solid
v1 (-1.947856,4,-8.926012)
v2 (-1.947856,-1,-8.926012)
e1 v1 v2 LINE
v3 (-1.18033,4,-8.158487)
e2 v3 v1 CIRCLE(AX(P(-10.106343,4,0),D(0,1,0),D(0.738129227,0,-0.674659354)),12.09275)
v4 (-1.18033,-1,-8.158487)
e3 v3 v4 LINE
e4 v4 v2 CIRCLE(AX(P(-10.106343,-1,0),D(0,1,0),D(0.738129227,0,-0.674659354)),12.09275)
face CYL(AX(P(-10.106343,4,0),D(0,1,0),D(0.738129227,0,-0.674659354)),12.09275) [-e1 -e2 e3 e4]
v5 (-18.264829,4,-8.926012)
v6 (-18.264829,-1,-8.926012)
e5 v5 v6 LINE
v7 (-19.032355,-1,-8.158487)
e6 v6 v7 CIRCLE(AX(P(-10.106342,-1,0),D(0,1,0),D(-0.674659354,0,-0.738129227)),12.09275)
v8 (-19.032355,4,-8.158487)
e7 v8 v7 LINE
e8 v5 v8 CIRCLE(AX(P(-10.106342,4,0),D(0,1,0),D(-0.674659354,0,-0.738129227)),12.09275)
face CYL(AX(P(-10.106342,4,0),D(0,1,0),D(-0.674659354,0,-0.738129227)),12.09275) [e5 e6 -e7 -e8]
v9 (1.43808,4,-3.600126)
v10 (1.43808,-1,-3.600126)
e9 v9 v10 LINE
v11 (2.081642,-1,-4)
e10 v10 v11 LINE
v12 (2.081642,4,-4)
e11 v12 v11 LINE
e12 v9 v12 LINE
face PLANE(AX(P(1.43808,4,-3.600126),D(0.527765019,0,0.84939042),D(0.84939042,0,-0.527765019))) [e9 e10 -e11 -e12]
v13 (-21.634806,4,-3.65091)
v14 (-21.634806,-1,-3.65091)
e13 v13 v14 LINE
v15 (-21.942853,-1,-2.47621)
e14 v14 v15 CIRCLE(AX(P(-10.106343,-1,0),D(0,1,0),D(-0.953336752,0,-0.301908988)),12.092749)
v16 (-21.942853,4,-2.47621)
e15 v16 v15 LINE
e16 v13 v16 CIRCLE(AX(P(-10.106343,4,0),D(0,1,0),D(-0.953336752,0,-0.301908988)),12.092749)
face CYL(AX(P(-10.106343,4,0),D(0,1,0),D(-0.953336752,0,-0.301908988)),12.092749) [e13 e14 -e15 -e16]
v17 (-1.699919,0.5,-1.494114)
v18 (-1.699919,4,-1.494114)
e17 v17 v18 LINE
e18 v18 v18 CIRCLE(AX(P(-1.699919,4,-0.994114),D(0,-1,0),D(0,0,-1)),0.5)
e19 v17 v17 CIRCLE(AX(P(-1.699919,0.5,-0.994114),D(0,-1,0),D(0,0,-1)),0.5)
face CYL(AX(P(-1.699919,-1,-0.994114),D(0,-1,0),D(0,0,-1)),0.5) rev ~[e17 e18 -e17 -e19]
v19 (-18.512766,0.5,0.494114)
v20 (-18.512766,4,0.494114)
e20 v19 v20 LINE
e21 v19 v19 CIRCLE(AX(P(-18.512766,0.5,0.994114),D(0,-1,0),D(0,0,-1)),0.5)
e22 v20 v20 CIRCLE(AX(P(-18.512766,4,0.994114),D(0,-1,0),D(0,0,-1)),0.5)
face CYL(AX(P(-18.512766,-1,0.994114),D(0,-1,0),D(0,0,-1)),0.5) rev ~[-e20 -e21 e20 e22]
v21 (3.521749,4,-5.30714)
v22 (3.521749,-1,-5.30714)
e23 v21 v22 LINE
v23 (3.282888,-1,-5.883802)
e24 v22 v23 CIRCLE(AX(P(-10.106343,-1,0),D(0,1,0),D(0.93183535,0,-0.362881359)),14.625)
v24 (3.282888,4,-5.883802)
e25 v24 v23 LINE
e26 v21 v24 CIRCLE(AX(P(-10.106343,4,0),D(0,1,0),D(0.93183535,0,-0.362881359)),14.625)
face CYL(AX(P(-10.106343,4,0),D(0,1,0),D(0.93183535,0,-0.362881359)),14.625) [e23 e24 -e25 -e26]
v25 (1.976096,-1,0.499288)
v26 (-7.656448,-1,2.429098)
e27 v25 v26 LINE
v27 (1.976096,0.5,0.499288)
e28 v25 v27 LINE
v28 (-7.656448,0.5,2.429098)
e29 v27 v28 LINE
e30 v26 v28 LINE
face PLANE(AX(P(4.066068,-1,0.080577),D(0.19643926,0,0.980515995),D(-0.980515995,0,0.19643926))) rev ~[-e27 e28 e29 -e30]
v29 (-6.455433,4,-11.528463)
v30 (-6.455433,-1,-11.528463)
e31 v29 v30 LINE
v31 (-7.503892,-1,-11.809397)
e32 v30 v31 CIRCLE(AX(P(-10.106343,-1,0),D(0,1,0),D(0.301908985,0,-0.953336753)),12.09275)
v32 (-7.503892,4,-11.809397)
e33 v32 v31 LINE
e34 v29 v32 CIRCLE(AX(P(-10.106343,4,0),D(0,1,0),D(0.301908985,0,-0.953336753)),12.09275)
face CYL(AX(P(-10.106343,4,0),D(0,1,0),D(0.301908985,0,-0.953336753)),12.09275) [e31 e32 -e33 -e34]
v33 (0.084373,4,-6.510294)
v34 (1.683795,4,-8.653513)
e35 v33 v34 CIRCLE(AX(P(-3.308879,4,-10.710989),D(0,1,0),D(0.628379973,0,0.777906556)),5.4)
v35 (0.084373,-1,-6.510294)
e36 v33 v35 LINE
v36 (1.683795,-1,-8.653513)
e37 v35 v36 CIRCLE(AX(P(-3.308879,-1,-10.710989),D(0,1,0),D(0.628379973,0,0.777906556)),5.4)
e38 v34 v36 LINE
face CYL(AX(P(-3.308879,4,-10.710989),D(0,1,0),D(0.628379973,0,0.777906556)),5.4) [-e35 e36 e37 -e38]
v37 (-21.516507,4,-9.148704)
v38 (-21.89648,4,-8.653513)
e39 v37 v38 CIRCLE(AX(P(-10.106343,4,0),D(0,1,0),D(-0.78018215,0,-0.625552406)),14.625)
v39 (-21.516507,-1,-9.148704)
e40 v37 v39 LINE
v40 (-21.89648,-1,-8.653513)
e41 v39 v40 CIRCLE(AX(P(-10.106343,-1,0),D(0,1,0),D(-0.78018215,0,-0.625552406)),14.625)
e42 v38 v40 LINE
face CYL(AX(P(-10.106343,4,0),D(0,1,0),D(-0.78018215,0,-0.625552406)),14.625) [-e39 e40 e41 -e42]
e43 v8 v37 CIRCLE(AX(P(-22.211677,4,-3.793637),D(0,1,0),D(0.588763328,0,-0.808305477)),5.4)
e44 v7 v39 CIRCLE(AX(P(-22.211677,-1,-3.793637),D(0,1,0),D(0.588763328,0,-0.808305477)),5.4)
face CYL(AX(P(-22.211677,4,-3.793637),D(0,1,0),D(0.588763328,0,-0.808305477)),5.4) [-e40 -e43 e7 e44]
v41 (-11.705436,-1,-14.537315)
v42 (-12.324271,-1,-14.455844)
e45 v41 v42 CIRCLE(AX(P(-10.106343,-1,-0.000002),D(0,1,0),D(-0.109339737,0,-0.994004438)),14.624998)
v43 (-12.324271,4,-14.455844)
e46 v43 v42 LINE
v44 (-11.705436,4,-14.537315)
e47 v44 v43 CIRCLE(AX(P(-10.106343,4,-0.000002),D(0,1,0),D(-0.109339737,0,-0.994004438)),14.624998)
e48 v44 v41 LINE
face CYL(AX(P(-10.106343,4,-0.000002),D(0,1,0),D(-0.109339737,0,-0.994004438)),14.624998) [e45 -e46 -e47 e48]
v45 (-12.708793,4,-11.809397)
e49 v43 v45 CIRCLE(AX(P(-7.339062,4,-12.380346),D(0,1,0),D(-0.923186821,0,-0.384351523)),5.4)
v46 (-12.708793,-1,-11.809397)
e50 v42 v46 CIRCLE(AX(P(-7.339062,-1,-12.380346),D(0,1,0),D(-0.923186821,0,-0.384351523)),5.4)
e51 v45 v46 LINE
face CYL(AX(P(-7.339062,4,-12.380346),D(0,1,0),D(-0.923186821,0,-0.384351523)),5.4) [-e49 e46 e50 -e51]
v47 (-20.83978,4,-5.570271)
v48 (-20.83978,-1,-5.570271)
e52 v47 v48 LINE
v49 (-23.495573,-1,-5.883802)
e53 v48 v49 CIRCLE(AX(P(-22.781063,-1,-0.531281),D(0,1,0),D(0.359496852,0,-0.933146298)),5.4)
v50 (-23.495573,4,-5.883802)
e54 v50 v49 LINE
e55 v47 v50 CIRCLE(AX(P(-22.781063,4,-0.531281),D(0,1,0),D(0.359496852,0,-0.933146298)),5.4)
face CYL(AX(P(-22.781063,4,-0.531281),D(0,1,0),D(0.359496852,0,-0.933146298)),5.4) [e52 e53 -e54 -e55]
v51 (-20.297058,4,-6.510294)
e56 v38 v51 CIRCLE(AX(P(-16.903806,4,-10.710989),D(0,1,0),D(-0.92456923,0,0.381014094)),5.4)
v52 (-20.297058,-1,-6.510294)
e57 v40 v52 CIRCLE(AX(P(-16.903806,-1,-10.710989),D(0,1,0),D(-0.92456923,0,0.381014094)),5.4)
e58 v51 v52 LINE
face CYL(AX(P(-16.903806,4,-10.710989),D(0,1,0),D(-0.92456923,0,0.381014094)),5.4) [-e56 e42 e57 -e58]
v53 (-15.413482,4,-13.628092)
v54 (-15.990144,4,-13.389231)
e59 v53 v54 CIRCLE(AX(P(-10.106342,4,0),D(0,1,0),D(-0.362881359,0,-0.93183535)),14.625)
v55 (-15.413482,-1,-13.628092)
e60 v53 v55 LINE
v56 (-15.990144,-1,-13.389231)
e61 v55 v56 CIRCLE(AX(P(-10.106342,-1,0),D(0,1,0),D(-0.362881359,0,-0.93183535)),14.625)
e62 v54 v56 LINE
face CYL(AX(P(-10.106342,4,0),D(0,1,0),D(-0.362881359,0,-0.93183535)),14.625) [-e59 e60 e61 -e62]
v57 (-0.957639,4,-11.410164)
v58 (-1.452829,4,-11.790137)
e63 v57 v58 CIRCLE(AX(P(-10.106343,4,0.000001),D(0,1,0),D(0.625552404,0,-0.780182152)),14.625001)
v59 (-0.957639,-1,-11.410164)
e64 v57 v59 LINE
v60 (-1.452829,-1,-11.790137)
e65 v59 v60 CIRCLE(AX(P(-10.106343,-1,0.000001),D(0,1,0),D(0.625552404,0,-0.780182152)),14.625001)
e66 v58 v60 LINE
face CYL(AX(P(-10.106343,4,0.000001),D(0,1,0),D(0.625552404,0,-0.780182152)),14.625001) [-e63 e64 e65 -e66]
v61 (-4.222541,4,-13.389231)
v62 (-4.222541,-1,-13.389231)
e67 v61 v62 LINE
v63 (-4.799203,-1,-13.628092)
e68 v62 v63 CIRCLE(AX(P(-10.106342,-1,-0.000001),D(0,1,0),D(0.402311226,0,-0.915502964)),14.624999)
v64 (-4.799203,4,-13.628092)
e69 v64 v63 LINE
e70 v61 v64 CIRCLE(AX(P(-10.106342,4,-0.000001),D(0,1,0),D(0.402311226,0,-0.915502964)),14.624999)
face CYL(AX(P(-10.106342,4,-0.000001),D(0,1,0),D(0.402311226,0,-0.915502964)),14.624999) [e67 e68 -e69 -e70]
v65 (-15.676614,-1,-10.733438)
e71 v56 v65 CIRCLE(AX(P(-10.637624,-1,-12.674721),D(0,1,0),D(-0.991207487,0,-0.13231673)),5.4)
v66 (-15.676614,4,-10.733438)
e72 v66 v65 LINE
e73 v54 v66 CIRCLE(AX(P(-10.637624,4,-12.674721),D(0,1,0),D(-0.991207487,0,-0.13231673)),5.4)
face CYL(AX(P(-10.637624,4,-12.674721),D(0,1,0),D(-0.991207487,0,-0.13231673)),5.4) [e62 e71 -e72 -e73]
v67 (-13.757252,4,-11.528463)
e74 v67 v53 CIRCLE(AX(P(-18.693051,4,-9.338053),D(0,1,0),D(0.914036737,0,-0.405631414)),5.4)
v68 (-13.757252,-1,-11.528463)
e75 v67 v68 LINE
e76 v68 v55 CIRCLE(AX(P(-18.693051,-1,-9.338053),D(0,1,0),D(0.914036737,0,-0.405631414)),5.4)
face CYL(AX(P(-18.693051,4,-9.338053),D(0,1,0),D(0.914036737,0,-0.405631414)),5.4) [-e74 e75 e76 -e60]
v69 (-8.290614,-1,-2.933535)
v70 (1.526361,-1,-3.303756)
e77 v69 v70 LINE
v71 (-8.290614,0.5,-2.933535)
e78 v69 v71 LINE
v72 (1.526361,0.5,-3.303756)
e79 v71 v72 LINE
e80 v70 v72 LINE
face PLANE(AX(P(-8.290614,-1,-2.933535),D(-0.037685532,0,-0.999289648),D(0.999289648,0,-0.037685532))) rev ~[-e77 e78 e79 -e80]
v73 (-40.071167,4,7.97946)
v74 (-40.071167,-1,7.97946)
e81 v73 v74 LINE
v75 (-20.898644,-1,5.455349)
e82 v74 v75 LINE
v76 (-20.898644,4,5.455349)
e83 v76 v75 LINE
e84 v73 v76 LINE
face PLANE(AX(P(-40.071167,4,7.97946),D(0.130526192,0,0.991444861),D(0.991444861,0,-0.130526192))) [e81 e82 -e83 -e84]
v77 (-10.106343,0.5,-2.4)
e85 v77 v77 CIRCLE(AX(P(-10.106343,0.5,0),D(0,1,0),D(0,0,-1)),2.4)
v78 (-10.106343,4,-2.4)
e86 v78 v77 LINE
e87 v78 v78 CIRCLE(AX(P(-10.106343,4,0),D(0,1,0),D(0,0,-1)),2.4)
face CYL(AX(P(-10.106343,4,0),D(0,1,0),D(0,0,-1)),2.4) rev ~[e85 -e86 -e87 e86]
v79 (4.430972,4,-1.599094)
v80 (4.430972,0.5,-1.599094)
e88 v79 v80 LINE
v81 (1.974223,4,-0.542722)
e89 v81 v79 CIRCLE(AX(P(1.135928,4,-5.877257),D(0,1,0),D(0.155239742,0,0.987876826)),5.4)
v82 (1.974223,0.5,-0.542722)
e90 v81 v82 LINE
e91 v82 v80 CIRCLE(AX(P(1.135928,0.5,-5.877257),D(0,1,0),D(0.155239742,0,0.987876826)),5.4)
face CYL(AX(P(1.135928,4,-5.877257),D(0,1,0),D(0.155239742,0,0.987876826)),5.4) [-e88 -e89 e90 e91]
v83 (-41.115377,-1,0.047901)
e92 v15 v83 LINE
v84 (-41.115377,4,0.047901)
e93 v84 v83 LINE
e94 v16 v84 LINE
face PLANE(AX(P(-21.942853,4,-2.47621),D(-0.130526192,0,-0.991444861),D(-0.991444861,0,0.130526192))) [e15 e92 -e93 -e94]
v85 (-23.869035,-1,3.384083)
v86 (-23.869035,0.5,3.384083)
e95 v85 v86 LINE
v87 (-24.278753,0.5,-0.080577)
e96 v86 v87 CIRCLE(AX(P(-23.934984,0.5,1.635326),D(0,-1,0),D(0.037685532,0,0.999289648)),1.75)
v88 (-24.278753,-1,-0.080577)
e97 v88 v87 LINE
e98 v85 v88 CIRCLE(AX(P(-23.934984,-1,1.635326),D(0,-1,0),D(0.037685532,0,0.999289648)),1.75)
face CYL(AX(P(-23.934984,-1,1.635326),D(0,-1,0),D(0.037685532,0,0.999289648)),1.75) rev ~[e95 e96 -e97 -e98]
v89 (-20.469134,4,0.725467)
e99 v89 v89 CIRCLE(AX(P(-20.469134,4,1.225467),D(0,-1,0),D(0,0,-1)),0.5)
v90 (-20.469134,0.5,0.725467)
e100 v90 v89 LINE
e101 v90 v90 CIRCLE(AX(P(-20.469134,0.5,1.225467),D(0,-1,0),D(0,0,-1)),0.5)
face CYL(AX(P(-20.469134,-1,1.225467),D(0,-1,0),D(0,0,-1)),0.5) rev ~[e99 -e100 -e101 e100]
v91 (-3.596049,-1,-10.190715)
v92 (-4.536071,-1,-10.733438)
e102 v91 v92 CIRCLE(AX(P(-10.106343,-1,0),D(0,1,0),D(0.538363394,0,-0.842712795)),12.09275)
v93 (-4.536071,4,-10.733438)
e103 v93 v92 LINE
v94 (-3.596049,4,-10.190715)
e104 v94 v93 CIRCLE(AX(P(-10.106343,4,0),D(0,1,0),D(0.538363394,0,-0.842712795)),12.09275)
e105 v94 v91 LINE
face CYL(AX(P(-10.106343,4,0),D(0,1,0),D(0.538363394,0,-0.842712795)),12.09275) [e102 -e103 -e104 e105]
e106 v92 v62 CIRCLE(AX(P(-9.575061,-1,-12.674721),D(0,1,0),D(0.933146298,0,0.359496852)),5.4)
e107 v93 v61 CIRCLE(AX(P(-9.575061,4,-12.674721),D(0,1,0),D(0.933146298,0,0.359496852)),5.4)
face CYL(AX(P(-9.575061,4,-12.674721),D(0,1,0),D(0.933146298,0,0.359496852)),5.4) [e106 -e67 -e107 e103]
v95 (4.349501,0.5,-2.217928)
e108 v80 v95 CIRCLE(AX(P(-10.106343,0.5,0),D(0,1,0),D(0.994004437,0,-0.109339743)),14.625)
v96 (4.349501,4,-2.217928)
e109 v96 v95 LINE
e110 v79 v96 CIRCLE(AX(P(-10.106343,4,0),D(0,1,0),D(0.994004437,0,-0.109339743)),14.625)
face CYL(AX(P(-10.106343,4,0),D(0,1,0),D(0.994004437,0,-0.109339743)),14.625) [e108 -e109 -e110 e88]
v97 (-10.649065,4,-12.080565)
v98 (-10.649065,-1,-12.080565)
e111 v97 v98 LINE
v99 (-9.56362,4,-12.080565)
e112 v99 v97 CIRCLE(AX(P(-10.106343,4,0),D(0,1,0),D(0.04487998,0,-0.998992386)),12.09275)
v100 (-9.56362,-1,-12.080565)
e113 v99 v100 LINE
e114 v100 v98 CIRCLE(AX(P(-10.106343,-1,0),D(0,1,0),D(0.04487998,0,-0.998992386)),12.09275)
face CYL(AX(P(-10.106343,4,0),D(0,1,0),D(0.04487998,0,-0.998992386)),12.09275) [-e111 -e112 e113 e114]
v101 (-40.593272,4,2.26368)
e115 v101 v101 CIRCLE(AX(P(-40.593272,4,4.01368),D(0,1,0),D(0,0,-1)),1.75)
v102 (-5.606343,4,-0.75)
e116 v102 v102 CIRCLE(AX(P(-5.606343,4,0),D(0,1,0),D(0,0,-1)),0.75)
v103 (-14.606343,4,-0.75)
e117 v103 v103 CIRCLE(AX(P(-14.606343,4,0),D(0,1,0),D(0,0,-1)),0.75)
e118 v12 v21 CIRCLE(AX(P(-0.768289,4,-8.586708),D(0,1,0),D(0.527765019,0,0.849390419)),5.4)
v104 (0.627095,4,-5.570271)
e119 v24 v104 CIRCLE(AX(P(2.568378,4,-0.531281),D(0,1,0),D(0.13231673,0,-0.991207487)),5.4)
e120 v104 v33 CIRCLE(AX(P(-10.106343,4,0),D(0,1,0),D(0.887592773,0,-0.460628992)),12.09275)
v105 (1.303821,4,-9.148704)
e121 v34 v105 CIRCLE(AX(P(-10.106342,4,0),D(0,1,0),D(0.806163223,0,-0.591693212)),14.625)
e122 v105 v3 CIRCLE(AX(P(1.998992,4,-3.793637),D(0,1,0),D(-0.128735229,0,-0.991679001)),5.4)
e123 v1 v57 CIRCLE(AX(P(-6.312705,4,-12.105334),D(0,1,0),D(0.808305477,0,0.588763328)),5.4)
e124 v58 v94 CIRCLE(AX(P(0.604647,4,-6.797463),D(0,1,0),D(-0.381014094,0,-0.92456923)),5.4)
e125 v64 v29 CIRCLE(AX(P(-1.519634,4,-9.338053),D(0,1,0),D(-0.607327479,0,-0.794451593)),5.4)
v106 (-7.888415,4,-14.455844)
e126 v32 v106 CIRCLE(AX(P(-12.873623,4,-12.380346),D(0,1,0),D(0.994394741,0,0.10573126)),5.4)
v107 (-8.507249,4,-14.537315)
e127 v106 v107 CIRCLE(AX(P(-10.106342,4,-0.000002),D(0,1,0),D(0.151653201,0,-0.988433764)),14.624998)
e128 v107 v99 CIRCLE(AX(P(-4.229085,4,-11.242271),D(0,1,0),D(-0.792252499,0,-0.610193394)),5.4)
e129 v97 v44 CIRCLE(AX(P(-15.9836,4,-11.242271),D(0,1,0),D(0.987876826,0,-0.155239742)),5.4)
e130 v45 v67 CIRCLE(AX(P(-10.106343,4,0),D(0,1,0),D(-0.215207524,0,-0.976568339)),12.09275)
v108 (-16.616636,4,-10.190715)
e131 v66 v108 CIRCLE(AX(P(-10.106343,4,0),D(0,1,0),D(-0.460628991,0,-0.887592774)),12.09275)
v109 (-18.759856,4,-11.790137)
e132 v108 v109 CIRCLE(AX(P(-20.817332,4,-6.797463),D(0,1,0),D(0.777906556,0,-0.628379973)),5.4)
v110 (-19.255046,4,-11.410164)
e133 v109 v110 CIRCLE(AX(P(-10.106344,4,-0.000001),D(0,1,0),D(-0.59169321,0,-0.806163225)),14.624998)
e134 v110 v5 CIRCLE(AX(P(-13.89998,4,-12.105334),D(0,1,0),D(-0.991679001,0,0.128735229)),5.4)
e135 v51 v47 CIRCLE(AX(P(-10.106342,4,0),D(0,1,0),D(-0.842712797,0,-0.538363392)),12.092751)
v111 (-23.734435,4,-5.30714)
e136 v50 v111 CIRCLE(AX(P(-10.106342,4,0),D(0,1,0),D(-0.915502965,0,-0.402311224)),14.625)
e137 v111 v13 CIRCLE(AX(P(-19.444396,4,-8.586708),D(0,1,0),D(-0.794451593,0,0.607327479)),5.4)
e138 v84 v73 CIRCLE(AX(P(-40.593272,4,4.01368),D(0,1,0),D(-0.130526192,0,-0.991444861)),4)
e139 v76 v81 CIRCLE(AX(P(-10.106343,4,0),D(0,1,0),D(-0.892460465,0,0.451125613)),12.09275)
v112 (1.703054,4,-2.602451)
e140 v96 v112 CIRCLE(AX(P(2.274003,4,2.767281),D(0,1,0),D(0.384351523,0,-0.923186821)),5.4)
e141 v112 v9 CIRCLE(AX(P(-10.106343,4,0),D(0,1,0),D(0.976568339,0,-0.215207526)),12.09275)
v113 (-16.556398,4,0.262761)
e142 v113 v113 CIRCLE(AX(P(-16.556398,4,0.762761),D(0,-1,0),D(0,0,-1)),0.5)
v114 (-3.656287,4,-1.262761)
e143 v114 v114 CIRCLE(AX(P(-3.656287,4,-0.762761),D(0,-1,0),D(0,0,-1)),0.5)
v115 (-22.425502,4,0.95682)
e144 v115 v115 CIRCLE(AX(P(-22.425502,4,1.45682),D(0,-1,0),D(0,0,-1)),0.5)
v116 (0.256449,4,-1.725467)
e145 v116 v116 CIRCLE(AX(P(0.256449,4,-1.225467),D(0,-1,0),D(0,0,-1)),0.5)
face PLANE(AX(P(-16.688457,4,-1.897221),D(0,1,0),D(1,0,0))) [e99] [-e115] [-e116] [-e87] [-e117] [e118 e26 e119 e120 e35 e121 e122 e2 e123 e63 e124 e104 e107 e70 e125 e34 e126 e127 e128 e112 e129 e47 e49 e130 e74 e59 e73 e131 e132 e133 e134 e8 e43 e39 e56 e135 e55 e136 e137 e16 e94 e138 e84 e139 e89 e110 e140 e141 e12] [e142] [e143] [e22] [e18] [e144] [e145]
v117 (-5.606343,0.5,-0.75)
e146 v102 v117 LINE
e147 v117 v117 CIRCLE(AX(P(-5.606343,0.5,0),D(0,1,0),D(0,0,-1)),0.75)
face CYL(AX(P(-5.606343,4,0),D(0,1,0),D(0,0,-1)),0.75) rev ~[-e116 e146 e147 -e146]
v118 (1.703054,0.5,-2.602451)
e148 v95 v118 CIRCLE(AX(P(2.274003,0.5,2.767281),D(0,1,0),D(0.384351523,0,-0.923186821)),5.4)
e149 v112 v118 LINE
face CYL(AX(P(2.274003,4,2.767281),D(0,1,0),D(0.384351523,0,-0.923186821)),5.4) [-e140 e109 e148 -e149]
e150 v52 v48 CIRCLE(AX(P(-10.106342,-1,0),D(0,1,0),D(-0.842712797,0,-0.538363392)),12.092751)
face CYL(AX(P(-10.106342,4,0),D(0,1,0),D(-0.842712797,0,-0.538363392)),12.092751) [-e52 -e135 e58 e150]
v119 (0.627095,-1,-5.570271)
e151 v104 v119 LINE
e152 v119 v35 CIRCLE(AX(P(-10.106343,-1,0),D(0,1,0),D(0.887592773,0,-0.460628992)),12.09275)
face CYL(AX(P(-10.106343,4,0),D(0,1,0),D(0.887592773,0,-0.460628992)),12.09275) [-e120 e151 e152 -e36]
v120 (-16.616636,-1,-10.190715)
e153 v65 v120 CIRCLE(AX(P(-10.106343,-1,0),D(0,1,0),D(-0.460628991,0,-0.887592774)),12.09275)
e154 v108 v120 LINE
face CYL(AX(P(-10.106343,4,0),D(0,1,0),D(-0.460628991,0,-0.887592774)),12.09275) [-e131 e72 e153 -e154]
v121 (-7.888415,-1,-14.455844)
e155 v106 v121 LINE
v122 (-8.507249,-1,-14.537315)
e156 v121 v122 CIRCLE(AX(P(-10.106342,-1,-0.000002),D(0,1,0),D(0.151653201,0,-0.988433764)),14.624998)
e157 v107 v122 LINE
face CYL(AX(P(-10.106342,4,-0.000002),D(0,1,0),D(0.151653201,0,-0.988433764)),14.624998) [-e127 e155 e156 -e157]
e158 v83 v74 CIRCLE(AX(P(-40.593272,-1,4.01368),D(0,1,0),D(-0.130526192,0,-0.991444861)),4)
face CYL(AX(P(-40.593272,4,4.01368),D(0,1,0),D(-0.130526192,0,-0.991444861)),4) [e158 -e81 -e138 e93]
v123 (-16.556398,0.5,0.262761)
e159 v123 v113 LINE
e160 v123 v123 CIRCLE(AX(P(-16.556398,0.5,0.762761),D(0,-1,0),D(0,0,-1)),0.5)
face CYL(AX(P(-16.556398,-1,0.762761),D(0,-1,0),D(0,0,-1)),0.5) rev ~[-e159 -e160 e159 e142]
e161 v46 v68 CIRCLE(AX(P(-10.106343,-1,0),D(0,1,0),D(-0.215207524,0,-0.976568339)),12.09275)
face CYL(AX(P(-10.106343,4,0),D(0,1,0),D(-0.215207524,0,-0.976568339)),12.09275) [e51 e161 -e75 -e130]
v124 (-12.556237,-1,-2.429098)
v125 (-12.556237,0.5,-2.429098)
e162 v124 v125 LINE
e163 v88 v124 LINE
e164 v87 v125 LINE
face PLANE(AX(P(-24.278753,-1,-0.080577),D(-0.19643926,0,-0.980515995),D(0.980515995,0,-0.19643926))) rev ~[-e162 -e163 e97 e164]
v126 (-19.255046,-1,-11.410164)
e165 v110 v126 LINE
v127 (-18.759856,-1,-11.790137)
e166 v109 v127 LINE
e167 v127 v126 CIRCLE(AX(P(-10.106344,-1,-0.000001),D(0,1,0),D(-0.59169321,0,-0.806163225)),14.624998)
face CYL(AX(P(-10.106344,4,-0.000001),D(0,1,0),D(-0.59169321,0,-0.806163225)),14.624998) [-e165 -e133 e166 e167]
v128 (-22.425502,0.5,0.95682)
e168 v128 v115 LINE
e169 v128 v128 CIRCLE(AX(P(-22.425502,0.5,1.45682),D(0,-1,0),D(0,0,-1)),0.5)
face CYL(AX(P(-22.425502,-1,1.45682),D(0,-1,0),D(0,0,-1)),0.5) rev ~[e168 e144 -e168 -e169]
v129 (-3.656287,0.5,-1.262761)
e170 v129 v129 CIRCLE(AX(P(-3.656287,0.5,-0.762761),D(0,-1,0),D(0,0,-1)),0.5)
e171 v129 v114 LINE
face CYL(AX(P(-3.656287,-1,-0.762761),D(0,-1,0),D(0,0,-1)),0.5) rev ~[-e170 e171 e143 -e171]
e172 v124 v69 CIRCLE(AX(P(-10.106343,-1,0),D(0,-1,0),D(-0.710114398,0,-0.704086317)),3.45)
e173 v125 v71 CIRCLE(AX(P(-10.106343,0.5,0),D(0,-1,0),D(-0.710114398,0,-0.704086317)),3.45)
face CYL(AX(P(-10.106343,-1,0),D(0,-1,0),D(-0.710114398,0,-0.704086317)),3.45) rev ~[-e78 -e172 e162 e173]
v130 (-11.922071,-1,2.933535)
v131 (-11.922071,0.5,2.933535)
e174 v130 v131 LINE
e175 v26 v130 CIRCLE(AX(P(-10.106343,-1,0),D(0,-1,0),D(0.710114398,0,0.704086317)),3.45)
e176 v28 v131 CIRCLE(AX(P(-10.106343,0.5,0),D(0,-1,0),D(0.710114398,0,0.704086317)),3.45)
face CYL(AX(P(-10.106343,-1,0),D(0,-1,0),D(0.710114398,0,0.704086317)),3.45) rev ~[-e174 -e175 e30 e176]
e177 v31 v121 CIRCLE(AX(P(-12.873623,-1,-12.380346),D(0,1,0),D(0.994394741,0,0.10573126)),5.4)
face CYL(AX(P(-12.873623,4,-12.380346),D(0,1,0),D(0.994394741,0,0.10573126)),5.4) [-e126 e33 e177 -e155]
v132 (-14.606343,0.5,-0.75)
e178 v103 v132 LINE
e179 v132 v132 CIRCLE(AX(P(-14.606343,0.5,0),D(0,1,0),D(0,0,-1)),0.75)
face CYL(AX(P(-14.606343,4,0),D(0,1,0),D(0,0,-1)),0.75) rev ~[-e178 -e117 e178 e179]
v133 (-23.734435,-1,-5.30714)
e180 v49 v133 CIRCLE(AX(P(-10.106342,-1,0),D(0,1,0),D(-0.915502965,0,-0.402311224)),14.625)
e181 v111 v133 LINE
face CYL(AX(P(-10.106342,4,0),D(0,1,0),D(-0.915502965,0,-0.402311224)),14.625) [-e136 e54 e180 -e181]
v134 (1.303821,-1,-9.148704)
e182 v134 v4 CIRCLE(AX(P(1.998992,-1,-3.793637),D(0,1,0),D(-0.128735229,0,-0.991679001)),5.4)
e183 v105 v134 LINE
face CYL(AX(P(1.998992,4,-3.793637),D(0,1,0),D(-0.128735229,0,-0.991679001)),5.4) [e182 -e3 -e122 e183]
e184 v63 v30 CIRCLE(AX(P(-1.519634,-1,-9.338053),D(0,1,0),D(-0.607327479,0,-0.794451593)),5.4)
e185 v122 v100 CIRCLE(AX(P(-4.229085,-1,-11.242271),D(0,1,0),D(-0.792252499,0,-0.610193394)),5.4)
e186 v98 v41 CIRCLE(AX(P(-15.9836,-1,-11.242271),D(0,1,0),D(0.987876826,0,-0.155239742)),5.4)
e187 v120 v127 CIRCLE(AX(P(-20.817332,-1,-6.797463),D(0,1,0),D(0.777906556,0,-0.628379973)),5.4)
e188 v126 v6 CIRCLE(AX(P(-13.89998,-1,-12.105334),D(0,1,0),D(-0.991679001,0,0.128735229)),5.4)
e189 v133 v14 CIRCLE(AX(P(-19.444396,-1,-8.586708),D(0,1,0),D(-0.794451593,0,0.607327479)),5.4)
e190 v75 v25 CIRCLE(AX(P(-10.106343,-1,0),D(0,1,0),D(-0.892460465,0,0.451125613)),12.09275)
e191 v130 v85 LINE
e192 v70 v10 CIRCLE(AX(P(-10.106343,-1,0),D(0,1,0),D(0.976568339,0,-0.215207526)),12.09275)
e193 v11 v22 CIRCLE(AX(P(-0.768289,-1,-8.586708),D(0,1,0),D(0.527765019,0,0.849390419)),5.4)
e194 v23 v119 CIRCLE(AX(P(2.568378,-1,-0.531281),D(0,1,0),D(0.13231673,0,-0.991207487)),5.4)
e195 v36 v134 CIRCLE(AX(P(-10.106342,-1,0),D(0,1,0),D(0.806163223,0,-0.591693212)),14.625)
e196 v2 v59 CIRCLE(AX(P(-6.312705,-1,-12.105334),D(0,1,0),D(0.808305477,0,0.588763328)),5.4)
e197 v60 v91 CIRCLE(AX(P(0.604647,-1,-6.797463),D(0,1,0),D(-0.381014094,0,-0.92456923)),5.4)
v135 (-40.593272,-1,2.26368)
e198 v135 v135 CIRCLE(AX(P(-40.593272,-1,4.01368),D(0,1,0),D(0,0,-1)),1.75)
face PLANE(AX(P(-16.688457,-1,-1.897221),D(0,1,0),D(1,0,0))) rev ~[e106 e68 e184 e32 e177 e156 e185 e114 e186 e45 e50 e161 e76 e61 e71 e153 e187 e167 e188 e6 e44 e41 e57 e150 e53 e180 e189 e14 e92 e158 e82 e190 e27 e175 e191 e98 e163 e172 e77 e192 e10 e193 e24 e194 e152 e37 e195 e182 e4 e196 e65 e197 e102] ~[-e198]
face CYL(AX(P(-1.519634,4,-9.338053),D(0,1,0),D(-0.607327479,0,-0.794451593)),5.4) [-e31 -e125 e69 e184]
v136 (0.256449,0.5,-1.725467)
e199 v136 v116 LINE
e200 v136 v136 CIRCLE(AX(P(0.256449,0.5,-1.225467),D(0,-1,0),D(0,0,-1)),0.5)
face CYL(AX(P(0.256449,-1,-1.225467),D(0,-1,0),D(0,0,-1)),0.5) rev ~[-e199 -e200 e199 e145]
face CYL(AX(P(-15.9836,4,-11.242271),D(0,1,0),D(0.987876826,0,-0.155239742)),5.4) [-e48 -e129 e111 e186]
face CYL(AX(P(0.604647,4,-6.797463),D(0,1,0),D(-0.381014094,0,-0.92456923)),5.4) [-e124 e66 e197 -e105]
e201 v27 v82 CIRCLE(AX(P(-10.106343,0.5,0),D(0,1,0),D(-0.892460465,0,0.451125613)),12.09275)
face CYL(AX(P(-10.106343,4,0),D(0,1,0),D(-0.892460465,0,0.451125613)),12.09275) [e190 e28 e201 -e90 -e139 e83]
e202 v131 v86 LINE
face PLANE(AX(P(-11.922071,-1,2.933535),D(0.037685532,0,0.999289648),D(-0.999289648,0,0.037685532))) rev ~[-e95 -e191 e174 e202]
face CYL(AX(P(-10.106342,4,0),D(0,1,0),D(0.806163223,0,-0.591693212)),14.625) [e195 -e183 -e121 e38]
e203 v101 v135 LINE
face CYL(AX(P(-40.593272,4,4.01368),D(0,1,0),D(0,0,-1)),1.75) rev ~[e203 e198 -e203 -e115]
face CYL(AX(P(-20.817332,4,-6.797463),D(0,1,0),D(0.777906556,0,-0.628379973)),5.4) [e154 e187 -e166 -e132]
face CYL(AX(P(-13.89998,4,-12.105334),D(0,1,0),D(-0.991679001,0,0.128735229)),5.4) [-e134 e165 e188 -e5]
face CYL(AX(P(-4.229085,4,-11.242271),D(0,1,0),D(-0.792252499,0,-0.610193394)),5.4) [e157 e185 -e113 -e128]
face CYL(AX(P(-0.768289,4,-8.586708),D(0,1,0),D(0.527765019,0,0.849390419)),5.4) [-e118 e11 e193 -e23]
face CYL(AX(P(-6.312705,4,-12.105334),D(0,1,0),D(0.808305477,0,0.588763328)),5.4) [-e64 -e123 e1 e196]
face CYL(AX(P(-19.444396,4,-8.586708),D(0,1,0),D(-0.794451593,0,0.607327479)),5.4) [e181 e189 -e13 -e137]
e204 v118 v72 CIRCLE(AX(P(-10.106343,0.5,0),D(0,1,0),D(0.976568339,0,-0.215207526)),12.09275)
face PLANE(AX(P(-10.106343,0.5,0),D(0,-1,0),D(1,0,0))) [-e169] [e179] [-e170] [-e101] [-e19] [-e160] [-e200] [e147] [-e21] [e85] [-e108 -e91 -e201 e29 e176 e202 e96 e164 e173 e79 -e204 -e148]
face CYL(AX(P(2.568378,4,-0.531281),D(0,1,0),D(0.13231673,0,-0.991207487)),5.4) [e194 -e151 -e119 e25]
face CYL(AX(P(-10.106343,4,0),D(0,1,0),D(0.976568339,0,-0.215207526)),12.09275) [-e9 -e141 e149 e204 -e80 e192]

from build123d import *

# Parameters (mm, degrees)
SKETCH1_R           = 1.75
SKETCH1_R_2         = 2.4
SKETCH1_R_3         = 0.75
BOSS_EXTRUDE1_DEPTH = 5
SKETCH2_R           = 0.500000007
SKETCH2_R_2         = 2.25
CUT_EXTRUDE1_DEPTH  = 48.168776066
CUT_EXTRUDE2_DEPTH  = 1.5


with BuildPart() as part:
    # Sketch1 → Boss-Extrude1 (new body)
    with BuildSketch(Plane(origin=(0, 4, 0), x_dir=(1, 0, 0), z_dir=(0, 1, 0))):
        with BuildLine():
            Line((1.43808022, 3.600125745), (2.081641936, 4))
            ThreePointArc((2.081641936, 4), (2.861028333, 4.588201733), (3.521749436, 5.30713988))
            ThreePointArc((3.521749436, 5.30713988), (3.405395609, 5.596745198), (3.282888305, 5.883801663))
            ThreePointArc((3.282888305, 5.883801663), (1.93527598, 5.894040025), (0.627094961, 5.57027124))
            ThreePointArc((0.627094961, 5.57027124), (0.366286148, 6.046375), (0.084372603, 6.510293938))
            ThreePointArc((0.084372603, 6.510293938), (1.018855105, 7.48132754), (1.683794586, 8.65351323))
            ThreePointArc((1.683794586, 8.65351323), (1.496450048, 8.903135899), (1.303821399, 9.148703928))
            ThreePointArc((1.303821399, 9.148703928), (-0.000522033, 8.809805691), (-1.180330337, 8.158486898))
            ThreePointArc((-1.180330337, 8.158486898), (-1.555477026, 8.550865528), (-1.947855656, 8.926012217))
            ThreePointArc((-1.947855656, 8.926012217), (-1.296536862, 10.105820521), (-0.957638625, 11.410163953))
            ThreePointArc((-0.957638625, 11.410163953), (-1.203206655, 11.602792602), (-1.452829324, 11.79013714))
            ThreePointArc((-1.452829324, 11.79013714), (-2.625015014, 11.125197659), (-3.596048616, 10.190715157))
            ThreePointArc((-3.596048616, 10.190715157), (-4.059967554, 10.472628702), (-4.536071314, 10.733437515))
            ThreePointArc((-4.536071314, 10.733437515), (-4.212302529, 12.041618533), (-4.222540891, 13.389230859))
            ThreePointArc((-4.222540891, 13.389230859), (-4.509597355, 13.511738163), (-4.799202674, 13.62809199))
            ThreePointArc((-4.799202674, 13.62809199), (-5.759348103, 12.682425791), (-6.455432668, 11.528463019))
            ThreePointArc((-6.455432668, 11.528463019), (-6.976508546, 11.680699536), (-7.503891752, 11.809396783))
            ThreePointArc((-7.503891752, 11.809396783), (-7.529737283, 13.156800143), (-7.888414517, 14.455843809))
            ThreePointArc((-7.888414517, 14.455843809), (-8.197396993, 14.499881098), (-8.507248835, 14.537314892))
            ThreePointArc((-8.507248835, 14.537314892), (-9.18992168, 13.375367565), (-9.563620196, 12.080565177))
            ThreePointArc((-9.563620196, 12.080565177), (-10.106342554, 12.09275), (-10.649064912, 12.080565177))
            ThreePointArc((-10.649064912, 12.080565177), (-11.022763428, 13.375367565), (-11.705436272, 14.537314892))
            ThreePointArc((-11.705436272, 14.537314892), (-12.015288115, 14.499881098), (-12.324270591, 14.455843809))
            ThreePointArc((-12.324270591, 14.455843809), (-12.682947825, 13.156800143), (-12.708793355, 11.809396783))
            ThreePointArc((-12.708793355, 11.809396783), (-13.236176561, 11.680699536), (-13.757252439, 11.528463019))
            ThreePointArc((-13.757252439, 11.528463019), (-14.453337005, 12.682425791), (-15.413482434, 13.62809199))
            ThreePointArc((-15.413482434, 13.62809199), (-15.703087752, 13.511738163), (-15.990144217, 13.389230859))
            ThreePointArc((-15.990144217, 13.389230859), (-16.000382579, 12.041618533), (-15.676613793, 10.733437515))
            ThreePointArc((-15.676613793, 10.733437515), (-16.152717554, 10.472628702), (-16.616636492, 10.190715157))
            ThreePointArc((-16.616636492, 10.190715157), (-17.587670094, 11.125197659), (-18.759855783, 11.79013714))
            ThreePointArc((-18.759855783, 11.79013714), (-19.009478453, 11.602792602), (-19.255046482, 11.410163953))
            ThreePointArc((-19.255046482, 11.410163953), (-18.916148245, 10.105820521), (-18.264829452, 8.926012217))
            ThreePointArc((-18.264829452, 8.926012217), (-18.657208082, 8.550865528), (-19.032354771, 8.158486898))
            ThreePointArc((-19.032354771, 8.158486898), (-20.212163074, 8.809805691), (-21.516506507, 9.148703928))
            ThreePointArc((-21.516506507, 9.148703928), (-21.709135156, 8.903135899), (-21.896479694, 8.65351323))
            ThreePointArc((-21.896479694, 8.65351323), (-21.231540213, 7.48132754), (-20.297057711, 6.510293938))
            ThreePointArc((-20.297057711, 6.510293938), (-20.578971255, 6.046375), (-20.839780068, 5.57027124))
            ThreePointArc((-20.839780068, 5.57027124), (-22.147961087, 5.894040025), (-23.495573413, 5.883801663))
            ThreePointArc((-23.495573413, 5.883801663), (-23.618080717, 5.596745198), (-23.734434544, 5.30713988))
            ThreePointArc((-23.734434544, 5.30713988), (-22.788768345, 4.346994451), (-21.634805572, 3.650909885))
            ThreePointArc((-21.634805572, 3.650909885), (-21.803584999, 3.067429176), (-21.942853375, 2.47620963))
            Line((-21.942853375, 2.47620963), (-41.11537681, -0.047900965))
            ThreePointArc((-41.11537681, -0.047900965), (-44.559051487, -4.53578518), (-40.071167272, -7.979459856))
            Line((-40.071167272, -7.979459856), (-20.898643838, -5.455349261))
            ThreePointArc((-20.898643838, -5.455349261), (-7.038913378, -11.697242445), (1.974222624, 0.542722358))
            ThreePointArc((1.974222624, 0.542722358), (3.269025011, 0.916420874), (4.430972339, 1.599093719))
            ThreePointArc((4.430972339, 1.599093719), (4.393538544, 1.908945561), (4.349501255, 2.217928037))
            ThreePointArc((4.349501255, 2.217928037), (3.050457589, 2.576605271), (1.70305423, 2.602450802))
            ThreePointArc((1.70305423, 2.602450802), (1.581217534, 3.104116905), (1.43808022, 3.600125745))
        make_face()
        with Locations(Location((-40.593272041, -4.013680411, 0), (0, 0, 90))):
            Circle(SKETCH1_R, mode=Mode.SUBTRACT)
        with Locations(Location((-10.106342554, 0, 0), (0, 0, 90))):
            Circle(SKETCH1_R_2, mode=Mode.SUBTRACT)
        with Locations(Location((-5.606342554, 0, 0), (0, 0, 90))):
            Circle(SKETCH1_R_3, mode=Mode.SUBTRACT)
        with Locations(Location((-14.606342554, 0, 0), (0, 0, 90))):
            Circle(SKETCH1_R_3, mode=Mode.SUBTRACT)
    extrude(amount=-BOSS_EXTRUDE1_DEPTH)

    # Sketch2 → Cut-Extrude1 (cut, through all)
    with BuildSketch(Plane.XZ.offset(1)):
        with Locations(Location((-22.425502423, 1.456820148, 0), (0, 0, 270))):
            Circle(SKETCH2_R)
        with Locations(Location((-16.556398443, 0.76276073, 0), (0, 0, 270))):
            Circle(SKETCH2_R)
        with Locations(Location((-20.469134429, 1.225467009, 0), (0, 0, 270))):
            Circle(SKETCH2_R)
        with Locations(Location((-18.512766436, 0.994113869, 0), (0, 0, 270))):
            Circle(SKETCH2_R)
        with Locations(Location((-3.656286665, -0.76276073, 0), (0, 0, 270))):
            Circle(SKETCH2_R)
        with Locations(Location((-1.699918672, -0.994113869, 0), (0, 0, 270))):
            Circle(SKETCH2_R)
        with Locations(Location((0.256449322, -1.225467009, 0), (0, 0, 270))):
            Circle(SKETCH2_R)
        with Locations((-10.106342554, 0)):
            Circle(SKETCH2_R_2)
    extrude(amount=-CUT_EXTRUDE1_DEPTH, mode=Mode.SUBTRACT)

    # Sketch3 → Cut-Extrude2 (cut)
    with BuildSketch(Plane.XZ.offset(1)):
        with BuildLine():
            Line((4.066067931, 0.080576868), (-7.656447881, 2.429097794))
            ThreePointArc((-7.656447881, 2.429097794), (-9.701180965, 3.426126689), (-11.922071261, 2.933535284))
            Line((-11.922071261, 2.933535284), (-23.869034652, 3.384083008))
            ThreePointArc((-23.869034652, 3.384083008), (-25.672874683, 1.840842872), (-24.278753039, -0.080576868))
            Line((-24.278753039, -0.080576868), (-12.556237227, -2.429097794))
            ThreePointArc((-12.556237227, -2.429097794), (-10.511504143, -3.426126689), (-8.290613847, -2.933535284))
            Line((-8.290613847, -2.933535284), (3.656349544, -3.384083008))
            ThreePointArc((3.656349544, -3.384083008), (5.460189575, -1.840842872), (4.066067931, 0.080576868))
        make_face()
    extrude(amount=-CUT_EXTRUDE2_DEPTH, mode=Mode.SUBTRACT)


solid = part.part
